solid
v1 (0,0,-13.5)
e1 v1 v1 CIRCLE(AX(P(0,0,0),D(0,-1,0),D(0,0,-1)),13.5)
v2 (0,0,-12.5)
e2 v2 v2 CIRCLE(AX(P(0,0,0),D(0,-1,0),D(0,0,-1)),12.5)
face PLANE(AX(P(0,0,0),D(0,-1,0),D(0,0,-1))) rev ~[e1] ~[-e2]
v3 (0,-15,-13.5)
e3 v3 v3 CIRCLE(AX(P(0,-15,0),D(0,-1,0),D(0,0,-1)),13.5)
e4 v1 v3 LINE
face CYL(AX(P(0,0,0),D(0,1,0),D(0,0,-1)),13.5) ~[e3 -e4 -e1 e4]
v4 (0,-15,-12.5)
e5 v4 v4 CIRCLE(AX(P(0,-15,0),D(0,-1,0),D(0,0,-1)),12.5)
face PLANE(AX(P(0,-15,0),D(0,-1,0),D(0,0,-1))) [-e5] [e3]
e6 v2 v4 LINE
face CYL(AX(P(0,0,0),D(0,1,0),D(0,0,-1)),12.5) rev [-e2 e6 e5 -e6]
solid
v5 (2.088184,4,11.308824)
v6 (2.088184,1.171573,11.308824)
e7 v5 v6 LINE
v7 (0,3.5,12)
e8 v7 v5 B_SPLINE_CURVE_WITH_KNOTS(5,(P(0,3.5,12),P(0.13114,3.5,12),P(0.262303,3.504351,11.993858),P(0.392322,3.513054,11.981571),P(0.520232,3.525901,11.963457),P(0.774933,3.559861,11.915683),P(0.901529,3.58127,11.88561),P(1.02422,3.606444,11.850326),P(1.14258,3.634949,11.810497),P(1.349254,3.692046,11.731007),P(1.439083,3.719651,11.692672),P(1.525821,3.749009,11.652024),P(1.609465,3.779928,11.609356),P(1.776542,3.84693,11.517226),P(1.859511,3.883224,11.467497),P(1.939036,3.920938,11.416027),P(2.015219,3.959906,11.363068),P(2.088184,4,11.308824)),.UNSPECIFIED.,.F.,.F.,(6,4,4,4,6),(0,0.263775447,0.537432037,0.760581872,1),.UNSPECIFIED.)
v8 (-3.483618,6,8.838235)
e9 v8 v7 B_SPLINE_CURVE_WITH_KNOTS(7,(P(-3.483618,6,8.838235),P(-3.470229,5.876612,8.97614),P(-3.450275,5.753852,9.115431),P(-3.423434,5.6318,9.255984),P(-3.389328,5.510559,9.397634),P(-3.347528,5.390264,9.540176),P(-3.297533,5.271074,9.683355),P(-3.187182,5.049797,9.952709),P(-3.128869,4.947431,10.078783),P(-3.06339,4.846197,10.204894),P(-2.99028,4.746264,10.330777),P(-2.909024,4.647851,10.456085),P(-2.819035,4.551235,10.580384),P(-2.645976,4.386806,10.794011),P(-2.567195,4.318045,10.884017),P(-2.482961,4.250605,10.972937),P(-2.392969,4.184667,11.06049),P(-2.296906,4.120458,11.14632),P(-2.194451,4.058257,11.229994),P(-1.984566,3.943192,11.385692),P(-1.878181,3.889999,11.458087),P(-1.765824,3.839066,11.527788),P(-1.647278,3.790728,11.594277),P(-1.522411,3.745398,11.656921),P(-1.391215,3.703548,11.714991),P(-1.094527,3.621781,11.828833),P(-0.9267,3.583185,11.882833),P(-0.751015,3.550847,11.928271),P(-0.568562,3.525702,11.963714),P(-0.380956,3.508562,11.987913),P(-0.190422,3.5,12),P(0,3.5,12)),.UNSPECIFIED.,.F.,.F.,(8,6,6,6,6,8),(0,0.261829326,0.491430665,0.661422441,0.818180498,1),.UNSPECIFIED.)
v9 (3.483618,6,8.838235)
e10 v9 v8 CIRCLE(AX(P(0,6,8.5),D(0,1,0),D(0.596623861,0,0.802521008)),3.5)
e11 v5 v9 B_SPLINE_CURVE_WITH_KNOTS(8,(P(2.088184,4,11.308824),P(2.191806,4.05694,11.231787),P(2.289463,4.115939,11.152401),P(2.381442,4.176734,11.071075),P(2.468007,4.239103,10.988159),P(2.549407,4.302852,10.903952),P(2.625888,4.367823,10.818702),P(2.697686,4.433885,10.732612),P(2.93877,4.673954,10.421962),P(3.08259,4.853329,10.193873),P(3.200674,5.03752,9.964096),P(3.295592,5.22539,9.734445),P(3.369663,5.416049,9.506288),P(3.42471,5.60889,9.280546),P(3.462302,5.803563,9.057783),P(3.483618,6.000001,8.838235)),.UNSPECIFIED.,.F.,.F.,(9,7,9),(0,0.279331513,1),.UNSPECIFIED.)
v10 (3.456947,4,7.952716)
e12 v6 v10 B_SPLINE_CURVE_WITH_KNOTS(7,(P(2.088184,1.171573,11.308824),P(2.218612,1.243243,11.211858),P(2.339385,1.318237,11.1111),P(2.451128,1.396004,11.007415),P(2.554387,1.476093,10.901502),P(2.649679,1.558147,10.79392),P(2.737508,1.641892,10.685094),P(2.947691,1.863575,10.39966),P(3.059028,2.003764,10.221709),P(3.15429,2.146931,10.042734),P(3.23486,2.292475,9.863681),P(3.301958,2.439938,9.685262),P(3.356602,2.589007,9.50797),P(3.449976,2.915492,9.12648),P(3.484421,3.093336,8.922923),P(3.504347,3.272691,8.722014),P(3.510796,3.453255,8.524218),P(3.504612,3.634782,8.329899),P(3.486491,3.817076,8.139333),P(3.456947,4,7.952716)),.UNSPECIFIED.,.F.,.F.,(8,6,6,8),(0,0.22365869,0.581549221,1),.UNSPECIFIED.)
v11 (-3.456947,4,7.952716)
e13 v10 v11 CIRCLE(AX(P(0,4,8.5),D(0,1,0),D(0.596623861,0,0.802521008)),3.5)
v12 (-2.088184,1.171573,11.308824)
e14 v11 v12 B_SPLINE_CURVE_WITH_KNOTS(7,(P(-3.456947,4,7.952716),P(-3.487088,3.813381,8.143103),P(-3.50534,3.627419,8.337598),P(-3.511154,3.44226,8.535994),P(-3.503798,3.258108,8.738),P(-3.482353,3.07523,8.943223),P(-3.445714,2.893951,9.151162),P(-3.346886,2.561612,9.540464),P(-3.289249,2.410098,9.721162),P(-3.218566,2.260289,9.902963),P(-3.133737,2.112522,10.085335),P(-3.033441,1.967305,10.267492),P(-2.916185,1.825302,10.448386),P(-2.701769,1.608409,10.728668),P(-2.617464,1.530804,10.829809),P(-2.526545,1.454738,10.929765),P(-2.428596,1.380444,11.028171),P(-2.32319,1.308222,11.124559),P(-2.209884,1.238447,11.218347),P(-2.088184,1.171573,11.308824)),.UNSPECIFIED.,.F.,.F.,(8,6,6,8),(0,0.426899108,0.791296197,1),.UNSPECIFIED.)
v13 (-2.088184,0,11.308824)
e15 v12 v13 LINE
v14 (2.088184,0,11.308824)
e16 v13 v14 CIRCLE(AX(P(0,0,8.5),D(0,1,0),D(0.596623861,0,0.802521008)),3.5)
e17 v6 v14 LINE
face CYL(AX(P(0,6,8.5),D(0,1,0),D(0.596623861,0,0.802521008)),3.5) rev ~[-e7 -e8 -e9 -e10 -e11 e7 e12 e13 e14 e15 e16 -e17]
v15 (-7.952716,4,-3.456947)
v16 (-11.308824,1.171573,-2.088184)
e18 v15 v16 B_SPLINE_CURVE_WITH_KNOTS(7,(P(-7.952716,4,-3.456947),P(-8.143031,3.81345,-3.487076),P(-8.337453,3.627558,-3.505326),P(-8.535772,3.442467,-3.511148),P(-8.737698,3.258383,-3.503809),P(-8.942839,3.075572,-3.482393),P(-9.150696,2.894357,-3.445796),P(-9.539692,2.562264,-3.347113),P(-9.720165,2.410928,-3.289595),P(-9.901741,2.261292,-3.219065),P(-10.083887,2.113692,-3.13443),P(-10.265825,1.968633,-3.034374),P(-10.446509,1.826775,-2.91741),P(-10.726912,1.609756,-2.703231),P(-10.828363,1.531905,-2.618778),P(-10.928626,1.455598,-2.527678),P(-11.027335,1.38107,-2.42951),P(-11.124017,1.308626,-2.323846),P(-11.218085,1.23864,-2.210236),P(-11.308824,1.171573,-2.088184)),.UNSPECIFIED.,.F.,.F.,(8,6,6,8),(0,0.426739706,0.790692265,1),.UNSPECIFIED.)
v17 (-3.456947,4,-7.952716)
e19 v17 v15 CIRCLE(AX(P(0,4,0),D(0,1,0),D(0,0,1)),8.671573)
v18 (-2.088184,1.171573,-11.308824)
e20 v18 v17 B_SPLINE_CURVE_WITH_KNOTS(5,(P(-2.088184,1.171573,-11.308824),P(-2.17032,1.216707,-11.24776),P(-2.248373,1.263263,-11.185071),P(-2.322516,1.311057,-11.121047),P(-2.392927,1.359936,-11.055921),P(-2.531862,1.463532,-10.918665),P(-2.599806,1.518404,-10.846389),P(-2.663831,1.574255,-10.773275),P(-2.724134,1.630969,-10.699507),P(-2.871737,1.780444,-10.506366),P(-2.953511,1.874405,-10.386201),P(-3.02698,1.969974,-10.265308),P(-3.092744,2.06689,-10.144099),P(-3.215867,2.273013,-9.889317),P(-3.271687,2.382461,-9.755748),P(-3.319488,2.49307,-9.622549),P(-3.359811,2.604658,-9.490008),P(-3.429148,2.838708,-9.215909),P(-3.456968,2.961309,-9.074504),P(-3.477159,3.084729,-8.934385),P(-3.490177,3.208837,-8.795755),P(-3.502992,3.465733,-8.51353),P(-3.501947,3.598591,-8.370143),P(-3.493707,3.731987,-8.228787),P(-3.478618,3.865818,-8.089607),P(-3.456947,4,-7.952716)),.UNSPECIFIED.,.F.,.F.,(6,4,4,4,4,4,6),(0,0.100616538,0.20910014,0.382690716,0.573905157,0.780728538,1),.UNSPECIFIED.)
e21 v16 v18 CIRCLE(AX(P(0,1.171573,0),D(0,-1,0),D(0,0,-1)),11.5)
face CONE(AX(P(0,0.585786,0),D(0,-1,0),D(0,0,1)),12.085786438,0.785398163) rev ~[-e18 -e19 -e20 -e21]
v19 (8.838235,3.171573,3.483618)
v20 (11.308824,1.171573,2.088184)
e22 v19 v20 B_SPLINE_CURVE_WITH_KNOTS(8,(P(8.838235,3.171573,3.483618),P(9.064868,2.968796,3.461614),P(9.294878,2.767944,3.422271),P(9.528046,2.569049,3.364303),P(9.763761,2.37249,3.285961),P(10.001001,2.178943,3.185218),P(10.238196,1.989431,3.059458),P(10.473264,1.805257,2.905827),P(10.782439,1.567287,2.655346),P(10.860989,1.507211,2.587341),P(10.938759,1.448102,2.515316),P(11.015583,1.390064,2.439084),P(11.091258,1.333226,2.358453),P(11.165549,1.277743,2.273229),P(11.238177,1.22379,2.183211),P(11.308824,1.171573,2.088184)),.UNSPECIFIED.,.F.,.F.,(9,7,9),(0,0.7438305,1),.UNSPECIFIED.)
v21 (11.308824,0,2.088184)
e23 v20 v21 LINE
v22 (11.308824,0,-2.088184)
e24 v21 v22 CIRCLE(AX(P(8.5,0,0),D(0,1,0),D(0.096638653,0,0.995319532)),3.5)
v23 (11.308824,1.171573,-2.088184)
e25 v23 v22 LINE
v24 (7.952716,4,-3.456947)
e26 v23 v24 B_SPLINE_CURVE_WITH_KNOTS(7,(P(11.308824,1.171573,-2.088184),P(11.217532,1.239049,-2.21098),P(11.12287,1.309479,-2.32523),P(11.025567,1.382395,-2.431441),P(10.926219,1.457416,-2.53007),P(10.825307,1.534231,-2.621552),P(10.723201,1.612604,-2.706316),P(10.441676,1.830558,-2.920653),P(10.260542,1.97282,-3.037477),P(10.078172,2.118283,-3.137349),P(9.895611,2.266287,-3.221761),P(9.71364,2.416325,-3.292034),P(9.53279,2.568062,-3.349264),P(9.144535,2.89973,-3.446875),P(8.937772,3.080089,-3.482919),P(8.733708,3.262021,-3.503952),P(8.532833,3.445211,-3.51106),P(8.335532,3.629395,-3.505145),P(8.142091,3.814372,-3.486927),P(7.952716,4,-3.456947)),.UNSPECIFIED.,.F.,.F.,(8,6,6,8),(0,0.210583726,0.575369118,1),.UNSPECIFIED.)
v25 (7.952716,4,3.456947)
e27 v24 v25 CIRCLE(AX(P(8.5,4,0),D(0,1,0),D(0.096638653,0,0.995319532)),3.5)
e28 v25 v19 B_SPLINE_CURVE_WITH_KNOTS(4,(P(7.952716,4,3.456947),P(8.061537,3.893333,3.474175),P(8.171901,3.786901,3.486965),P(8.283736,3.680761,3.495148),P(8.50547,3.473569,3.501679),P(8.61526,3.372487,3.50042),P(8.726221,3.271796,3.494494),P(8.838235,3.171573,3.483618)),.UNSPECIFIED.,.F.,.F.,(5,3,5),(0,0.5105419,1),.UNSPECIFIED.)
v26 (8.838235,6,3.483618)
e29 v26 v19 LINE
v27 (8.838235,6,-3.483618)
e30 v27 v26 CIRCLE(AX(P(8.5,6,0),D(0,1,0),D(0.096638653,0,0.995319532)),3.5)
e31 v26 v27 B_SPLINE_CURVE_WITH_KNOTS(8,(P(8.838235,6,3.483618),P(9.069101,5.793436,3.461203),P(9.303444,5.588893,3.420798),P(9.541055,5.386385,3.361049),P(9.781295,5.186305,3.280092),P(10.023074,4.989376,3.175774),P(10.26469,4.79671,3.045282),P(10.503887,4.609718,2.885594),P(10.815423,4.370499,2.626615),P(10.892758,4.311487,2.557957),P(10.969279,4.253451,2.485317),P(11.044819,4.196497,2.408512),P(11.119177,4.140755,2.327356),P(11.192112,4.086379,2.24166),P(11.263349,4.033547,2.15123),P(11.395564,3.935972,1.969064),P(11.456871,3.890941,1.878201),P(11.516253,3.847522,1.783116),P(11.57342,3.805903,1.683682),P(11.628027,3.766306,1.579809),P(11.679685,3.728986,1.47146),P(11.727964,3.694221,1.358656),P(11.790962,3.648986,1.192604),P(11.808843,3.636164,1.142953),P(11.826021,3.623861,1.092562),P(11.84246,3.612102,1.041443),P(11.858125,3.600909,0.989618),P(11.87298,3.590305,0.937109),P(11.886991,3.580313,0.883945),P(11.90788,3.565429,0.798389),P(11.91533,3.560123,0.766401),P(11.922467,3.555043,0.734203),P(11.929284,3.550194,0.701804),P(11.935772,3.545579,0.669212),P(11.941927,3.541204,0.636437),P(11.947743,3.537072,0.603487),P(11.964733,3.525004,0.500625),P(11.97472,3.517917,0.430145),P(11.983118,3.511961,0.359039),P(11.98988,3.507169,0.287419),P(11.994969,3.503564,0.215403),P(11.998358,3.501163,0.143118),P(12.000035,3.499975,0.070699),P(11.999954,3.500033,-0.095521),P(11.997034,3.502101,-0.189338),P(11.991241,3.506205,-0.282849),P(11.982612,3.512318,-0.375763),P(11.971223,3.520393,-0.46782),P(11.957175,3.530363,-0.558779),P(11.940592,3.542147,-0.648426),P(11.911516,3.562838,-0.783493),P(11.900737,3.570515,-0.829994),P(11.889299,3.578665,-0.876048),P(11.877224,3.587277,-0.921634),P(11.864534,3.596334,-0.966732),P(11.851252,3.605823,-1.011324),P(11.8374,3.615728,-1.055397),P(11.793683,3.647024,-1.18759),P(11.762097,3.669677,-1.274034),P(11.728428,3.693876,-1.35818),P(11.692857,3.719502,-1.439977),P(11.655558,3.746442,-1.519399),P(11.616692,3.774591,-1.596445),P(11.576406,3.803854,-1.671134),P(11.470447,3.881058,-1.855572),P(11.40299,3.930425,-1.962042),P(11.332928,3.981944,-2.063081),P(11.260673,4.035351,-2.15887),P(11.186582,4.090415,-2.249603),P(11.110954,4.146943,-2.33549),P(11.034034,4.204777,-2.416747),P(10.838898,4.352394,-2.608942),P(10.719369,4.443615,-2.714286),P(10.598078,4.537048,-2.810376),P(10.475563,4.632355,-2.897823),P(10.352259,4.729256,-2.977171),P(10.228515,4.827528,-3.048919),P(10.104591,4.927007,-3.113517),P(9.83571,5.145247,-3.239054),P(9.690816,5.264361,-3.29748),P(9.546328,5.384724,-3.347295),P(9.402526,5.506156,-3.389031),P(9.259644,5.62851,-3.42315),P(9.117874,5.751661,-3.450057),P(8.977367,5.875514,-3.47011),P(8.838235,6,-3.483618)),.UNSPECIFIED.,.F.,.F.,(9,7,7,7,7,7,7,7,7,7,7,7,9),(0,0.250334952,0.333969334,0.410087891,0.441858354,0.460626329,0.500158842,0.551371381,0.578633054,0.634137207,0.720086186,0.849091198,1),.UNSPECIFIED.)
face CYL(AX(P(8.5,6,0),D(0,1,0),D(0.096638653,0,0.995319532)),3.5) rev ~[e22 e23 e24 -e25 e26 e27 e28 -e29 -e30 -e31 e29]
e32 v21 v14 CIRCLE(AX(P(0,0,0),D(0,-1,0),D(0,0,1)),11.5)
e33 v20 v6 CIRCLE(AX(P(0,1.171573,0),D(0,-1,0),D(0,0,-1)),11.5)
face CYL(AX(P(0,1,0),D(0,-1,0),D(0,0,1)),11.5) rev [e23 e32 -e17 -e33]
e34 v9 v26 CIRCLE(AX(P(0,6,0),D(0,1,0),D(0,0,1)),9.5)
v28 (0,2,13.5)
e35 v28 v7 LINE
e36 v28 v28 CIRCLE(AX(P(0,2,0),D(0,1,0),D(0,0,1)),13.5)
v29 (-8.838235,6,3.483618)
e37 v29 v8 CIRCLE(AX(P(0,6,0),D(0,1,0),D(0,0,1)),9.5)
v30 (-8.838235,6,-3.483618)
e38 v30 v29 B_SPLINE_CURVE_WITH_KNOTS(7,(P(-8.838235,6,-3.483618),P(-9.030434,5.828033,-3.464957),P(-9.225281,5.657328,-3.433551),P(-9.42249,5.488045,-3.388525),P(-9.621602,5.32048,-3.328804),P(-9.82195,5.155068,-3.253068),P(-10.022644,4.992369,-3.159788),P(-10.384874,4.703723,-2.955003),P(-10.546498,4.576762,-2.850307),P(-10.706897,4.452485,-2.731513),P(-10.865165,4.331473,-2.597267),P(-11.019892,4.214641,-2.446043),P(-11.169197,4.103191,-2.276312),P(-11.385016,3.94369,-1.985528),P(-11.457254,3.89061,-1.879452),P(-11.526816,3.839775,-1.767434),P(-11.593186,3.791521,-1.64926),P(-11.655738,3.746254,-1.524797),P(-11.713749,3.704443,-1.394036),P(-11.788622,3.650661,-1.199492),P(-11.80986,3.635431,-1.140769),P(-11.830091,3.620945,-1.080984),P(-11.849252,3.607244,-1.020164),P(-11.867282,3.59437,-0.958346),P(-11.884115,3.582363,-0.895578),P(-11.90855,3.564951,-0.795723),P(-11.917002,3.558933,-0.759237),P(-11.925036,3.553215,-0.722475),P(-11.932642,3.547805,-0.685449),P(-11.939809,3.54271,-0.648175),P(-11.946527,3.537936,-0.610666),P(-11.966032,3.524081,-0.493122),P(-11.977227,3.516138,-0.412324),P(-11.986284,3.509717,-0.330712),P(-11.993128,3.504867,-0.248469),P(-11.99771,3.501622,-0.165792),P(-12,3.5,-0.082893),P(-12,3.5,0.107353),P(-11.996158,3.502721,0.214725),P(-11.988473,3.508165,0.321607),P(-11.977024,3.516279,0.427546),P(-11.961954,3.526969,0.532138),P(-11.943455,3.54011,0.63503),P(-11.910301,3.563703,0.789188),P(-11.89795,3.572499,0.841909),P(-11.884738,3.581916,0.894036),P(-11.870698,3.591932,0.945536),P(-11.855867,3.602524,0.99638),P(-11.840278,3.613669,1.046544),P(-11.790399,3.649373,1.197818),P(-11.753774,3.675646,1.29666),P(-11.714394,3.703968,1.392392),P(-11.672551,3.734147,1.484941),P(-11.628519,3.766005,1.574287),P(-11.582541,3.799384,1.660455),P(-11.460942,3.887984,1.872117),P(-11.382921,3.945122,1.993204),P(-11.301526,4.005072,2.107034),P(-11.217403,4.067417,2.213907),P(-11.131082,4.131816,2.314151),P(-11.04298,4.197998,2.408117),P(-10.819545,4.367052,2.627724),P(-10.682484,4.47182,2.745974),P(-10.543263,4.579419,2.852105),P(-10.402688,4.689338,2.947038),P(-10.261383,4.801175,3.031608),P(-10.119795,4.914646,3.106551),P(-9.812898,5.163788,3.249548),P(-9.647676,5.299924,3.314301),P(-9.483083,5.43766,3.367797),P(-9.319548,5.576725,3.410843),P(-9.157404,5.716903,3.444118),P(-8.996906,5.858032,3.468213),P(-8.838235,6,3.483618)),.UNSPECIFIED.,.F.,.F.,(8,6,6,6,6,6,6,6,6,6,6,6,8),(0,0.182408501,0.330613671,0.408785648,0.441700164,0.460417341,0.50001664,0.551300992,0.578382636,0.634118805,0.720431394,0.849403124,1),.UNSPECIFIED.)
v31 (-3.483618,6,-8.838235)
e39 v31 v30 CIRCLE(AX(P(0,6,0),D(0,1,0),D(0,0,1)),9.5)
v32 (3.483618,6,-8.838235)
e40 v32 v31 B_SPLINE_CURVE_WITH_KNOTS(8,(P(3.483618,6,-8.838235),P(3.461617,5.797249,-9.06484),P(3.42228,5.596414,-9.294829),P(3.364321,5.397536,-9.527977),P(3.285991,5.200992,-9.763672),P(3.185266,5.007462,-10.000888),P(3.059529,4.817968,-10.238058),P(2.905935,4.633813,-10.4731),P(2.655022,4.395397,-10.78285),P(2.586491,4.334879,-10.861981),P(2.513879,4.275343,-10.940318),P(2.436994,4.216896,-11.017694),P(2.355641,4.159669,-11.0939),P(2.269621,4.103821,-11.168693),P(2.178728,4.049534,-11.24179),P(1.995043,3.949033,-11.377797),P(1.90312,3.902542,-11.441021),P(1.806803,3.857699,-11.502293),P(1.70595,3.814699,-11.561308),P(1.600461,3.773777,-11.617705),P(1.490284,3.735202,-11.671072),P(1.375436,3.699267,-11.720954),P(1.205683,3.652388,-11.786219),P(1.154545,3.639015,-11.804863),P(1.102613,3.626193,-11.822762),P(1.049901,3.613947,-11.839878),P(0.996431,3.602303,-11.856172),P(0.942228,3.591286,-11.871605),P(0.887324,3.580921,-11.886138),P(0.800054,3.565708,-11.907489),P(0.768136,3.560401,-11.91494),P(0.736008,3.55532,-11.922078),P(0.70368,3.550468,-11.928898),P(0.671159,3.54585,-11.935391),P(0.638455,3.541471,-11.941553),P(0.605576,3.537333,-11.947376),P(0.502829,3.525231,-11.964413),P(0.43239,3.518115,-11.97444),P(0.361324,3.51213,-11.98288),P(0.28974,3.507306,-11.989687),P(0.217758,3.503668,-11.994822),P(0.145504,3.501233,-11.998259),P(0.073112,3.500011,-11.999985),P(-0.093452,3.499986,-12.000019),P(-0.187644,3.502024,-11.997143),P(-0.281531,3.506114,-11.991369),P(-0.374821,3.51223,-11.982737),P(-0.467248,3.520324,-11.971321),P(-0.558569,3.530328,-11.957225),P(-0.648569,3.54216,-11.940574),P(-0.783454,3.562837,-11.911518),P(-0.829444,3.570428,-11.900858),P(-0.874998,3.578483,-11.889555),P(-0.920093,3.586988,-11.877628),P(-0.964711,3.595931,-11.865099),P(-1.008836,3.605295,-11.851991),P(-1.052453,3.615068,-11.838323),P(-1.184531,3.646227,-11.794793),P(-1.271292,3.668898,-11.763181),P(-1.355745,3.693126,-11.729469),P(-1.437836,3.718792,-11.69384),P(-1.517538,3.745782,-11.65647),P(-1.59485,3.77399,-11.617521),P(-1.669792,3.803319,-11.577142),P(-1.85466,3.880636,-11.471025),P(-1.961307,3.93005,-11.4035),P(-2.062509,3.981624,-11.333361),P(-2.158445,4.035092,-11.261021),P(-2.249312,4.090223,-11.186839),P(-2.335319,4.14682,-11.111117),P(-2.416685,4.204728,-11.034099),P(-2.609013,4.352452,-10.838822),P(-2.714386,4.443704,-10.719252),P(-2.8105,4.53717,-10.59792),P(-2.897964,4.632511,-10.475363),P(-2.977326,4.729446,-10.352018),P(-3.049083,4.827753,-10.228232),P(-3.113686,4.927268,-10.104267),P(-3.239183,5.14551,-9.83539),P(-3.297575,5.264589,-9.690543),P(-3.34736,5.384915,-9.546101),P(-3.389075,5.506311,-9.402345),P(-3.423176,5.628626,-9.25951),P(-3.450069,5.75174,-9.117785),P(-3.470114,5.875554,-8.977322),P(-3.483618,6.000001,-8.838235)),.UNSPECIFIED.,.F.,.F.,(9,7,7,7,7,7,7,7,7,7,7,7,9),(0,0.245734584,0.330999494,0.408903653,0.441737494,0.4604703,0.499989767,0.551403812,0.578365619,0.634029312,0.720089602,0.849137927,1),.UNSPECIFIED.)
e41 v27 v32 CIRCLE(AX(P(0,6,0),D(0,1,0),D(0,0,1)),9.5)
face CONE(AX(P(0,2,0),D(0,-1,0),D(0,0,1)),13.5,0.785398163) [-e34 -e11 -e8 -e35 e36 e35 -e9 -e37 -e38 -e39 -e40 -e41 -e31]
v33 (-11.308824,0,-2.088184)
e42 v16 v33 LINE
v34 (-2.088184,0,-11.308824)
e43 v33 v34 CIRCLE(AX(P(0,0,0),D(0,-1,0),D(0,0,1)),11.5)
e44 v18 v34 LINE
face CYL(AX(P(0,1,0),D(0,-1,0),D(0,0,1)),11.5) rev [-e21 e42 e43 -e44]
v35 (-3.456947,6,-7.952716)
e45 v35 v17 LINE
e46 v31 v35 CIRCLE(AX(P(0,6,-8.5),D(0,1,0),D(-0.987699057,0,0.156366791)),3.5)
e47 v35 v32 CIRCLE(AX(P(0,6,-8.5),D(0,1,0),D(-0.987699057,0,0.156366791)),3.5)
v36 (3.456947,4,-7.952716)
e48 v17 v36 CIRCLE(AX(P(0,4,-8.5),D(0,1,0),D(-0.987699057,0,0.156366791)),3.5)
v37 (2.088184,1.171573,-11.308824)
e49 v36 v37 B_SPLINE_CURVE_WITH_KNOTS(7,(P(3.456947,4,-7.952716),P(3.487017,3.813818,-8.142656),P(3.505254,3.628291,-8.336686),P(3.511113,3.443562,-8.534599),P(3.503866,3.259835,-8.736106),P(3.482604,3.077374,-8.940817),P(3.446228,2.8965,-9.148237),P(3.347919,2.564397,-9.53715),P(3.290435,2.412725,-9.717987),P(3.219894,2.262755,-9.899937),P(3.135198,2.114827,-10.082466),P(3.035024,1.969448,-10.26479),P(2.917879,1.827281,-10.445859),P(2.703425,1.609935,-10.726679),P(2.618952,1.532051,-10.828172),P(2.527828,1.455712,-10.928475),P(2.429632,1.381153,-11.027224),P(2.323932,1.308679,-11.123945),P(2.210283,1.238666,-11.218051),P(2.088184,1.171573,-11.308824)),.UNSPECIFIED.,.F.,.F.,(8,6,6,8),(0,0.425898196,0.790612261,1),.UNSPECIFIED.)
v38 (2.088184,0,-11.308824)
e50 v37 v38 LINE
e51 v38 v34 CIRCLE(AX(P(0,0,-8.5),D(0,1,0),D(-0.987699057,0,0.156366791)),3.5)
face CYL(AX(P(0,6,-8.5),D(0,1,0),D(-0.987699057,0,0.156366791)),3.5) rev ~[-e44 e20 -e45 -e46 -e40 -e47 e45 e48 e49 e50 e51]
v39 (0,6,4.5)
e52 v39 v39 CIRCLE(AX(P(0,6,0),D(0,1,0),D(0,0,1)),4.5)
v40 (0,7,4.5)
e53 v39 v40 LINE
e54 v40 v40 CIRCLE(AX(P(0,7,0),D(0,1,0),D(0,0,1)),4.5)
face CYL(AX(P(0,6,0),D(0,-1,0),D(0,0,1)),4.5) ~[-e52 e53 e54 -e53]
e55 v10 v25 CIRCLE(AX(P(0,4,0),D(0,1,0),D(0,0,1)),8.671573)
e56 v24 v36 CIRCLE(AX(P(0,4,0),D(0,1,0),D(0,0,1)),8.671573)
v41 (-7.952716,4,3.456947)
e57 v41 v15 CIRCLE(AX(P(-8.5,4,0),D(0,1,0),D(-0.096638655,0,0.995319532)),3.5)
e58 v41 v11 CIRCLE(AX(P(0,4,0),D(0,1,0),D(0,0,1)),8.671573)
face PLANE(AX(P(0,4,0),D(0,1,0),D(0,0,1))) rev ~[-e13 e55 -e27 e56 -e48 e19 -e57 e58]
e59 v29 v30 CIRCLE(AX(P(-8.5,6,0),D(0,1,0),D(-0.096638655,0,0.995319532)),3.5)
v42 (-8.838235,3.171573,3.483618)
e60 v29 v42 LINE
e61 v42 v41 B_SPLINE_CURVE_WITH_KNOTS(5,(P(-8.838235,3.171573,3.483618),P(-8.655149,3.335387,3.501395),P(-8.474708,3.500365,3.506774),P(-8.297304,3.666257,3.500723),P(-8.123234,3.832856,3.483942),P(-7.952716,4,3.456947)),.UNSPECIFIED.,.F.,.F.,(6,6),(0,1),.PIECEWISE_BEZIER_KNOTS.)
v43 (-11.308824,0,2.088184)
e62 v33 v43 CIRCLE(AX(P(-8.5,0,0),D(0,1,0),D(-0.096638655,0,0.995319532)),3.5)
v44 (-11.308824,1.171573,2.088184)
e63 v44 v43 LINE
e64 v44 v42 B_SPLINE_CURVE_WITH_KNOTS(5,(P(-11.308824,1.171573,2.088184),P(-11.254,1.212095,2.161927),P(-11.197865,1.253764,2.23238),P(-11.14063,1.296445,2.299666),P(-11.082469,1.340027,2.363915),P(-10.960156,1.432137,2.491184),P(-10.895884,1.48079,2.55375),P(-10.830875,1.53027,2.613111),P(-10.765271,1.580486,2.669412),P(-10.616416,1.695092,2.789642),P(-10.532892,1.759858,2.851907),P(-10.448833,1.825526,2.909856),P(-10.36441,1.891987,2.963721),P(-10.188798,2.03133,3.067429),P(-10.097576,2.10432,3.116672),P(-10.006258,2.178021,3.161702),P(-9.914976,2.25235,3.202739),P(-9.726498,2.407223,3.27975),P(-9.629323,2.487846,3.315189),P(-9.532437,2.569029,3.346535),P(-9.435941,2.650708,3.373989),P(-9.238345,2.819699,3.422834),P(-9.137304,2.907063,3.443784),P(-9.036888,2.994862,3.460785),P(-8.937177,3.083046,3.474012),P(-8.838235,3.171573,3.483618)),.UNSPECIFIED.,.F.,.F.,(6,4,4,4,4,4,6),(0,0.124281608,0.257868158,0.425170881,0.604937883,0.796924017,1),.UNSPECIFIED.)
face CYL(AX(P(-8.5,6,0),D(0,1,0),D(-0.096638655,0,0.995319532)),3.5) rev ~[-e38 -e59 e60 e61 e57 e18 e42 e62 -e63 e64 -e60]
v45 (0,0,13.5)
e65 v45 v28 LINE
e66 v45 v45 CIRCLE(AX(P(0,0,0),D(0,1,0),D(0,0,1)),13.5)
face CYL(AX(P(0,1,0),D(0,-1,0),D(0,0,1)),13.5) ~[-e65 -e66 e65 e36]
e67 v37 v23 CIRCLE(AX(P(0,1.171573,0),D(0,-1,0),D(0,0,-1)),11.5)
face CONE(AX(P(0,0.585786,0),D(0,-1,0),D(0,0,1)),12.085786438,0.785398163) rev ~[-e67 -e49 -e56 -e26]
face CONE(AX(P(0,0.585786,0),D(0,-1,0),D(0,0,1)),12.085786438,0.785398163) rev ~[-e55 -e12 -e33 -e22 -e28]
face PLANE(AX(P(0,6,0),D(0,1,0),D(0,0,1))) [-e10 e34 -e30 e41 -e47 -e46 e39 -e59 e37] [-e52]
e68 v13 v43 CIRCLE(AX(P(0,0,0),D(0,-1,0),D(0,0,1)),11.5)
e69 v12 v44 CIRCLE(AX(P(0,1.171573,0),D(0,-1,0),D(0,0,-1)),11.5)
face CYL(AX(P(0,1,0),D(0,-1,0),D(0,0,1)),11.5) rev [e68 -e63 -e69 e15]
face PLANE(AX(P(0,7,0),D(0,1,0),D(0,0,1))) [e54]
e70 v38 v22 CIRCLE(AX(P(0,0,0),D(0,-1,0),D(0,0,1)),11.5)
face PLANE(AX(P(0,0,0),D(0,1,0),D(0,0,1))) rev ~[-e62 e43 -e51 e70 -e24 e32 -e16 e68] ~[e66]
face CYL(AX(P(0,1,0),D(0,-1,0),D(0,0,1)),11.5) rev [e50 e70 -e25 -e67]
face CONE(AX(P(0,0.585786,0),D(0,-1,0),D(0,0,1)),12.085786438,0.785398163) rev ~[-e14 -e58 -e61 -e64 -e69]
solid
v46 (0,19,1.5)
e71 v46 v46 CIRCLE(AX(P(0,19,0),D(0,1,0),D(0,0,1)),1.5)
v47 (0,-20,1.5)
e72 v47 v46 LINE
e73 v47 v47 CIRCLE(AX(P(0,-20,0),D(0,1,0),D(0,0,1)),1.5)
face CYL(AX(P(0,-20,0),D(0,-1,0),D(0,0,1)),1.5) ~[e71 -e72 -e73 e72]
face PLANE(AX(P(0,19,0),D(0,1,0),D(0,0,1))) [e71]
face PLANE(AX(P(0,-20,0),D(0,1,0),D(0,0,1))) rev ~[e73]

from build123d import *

# Parameters (mm, degrees)
IZIM2_R                          = 13.5
Y_KSEKLIK_EKSTR_ZYON1_DEPTH      = 1
IZIM3_R                          = 13.5
Y_KSEKLIK_EKSTR_ZYON2_DEPTH      = 5
PAH1_SIZE                        = 4
BO_ALTMA1_T                      = -2
IZIM5_R                          = 3.5
KES_EKSTR_ZYON1_DEPTH            = 6
IZIM7_R                          = 4.5
Y_KSEKLIK_EKSTR_ZYON4_DEPTH      = 1
IZIM6_R                          = 13.5
IZIM6_R_2                        = 12.5
Y_KSEKLIK_EKSTR_ZYON6_DEPTH      = 15
Y_KSEKLIK_EKSTR_ZYON7_DEPTH      = 12
Y_KSEKLIK_EKSTR_ZYON7_DEPTH_BACK = 27
IZIM8_R                          = 1.5


with BuildPart() as part:
    # Çizim2 → Yükseklik-Ekstrüzyon1 (new body)
    with BuildSketch(Plane(origin=(0, 0, 0), x_dir=(1, 0, 0), z_dir=(0, 1, 0))):
        with Locations(Location((0, 0, 0), (0, 0, 270))):
            Circle(IZIM2_R)
    extrude(amount=Y_KSEKLIK_EKSTR_ZYON1_DEPTH)

    # Çizim3 → Yükseklik-Ekstrüzyon2 (add)
    with BuildSketch(Plane(origin=(0, 1, 0), x_dir=(1, 0, 0), z_dir=(0, 1, 0))):
        with Locations(Location((0, 0, 0), (0, 0, 270))):
            Circle(IZIM3_R)
    extrude(amount=Y_KSEKLIK_EKSTR_ZYON2_DEPTH)

    # Pah1
    pah1_edges = [part.edges().sort_by_distance(p)[0] for p in [
        (0, 6, -13.5),
    ]]
    chamfer(pah1_edges, length=PAH1_SIZE)

    # İç Boşaltma1
    bo_altma1_openings = [part.faces().sort_by_distance(p)[0] for p in [
        (0, 0, 0),
    ]]
    offset(amount=BO_ALTMA1_T, openings=bo_altma1_openings, kind=Kind.INTERSECTION)

    # Çizim5 → Kes-Ekstrüzyon1 (cut)
    with BuildSketch(Plane(origin=(0, 6, 0), x_dir=(1, 0, 0), z_dir=(0, 1, 0))):
        with Locations(Location((0, -8.5, 0), (0, 0, 306.628480217))):
            Circle(IZIM5_R)
        with Locations(Location((-8.5, 0, 0), (0, 0, 264.454358135))):
            Circle(IZIM5_R)
        with Locations(Location((0, 8.5, 0), (0, 0, 188.996074249))):
            Circle(IZIM5_R)
        with Locations(Location((8.5, 0, 0), (0, 0, 275.545641715))):
            Circle(IZIM5_R)
    extrude(amount=-KES_EKSTR_ZYON1_DEPTH, mode=Mode.SUBTRACT)

    # Çizim7 → Yükseklik-Ekstrüzyon4 (add)
    with BuildSketch(Plane(origin=(0, 6, 0), x_dir=(1, 0, 0), z_dir=(0, 1, 0))):
        with Locations(Location((0, 0, 0), (0, 0, 270))):
            Circle(IZIM7_R)
    extrude(amount=Y_KSEKLIK_EKSTR_ZYON4_DEPTH)


with BuildPart() as body_2:
    # Çizim6 → Yükseklik-Ekstrüzyon6 (new body)
    with BuildSketch(Plane.XZ):
        with Locations(Location((0, 0, 0), (0, 0, 270))):
            Circle(IZIM6_R)
        with Locations(Location((0, 0, 0), (0, 0, 270))):
            Circle(IZIM6_R_2, mode=Mode.SUBTRACT)
    extrude(amount=Y_KSEKLIK_EKSTR_ZYON6_DEPTH)


with BuildPart() as body_3:
    # Çizim8 → Yükseklik-Ekstrüzyon7 (new, two sides: drawn at the far end of the back side and taken through both)
    with BuildSketch(Plane(origin=(0, 7, 0), x_dir=(1, 0, 0), z_dir=(0, 1, 0)).offset(-Y_KSEKLIK_EKSTR_ZYON7_DEPTH_BACK)):
        with Locations(Location((0, 0, 0), (0, 0, 270))):
            Circle(IZIM8_R)
    extrude(amount=Y_KSEKLIK_EKSTR_ZYON7_DEPTH + Y_KSEKLIK_EKSTR_ZYON7_DEPTH_BACK)


solid = Compound([part.part, body_2.part, body_3.part])
